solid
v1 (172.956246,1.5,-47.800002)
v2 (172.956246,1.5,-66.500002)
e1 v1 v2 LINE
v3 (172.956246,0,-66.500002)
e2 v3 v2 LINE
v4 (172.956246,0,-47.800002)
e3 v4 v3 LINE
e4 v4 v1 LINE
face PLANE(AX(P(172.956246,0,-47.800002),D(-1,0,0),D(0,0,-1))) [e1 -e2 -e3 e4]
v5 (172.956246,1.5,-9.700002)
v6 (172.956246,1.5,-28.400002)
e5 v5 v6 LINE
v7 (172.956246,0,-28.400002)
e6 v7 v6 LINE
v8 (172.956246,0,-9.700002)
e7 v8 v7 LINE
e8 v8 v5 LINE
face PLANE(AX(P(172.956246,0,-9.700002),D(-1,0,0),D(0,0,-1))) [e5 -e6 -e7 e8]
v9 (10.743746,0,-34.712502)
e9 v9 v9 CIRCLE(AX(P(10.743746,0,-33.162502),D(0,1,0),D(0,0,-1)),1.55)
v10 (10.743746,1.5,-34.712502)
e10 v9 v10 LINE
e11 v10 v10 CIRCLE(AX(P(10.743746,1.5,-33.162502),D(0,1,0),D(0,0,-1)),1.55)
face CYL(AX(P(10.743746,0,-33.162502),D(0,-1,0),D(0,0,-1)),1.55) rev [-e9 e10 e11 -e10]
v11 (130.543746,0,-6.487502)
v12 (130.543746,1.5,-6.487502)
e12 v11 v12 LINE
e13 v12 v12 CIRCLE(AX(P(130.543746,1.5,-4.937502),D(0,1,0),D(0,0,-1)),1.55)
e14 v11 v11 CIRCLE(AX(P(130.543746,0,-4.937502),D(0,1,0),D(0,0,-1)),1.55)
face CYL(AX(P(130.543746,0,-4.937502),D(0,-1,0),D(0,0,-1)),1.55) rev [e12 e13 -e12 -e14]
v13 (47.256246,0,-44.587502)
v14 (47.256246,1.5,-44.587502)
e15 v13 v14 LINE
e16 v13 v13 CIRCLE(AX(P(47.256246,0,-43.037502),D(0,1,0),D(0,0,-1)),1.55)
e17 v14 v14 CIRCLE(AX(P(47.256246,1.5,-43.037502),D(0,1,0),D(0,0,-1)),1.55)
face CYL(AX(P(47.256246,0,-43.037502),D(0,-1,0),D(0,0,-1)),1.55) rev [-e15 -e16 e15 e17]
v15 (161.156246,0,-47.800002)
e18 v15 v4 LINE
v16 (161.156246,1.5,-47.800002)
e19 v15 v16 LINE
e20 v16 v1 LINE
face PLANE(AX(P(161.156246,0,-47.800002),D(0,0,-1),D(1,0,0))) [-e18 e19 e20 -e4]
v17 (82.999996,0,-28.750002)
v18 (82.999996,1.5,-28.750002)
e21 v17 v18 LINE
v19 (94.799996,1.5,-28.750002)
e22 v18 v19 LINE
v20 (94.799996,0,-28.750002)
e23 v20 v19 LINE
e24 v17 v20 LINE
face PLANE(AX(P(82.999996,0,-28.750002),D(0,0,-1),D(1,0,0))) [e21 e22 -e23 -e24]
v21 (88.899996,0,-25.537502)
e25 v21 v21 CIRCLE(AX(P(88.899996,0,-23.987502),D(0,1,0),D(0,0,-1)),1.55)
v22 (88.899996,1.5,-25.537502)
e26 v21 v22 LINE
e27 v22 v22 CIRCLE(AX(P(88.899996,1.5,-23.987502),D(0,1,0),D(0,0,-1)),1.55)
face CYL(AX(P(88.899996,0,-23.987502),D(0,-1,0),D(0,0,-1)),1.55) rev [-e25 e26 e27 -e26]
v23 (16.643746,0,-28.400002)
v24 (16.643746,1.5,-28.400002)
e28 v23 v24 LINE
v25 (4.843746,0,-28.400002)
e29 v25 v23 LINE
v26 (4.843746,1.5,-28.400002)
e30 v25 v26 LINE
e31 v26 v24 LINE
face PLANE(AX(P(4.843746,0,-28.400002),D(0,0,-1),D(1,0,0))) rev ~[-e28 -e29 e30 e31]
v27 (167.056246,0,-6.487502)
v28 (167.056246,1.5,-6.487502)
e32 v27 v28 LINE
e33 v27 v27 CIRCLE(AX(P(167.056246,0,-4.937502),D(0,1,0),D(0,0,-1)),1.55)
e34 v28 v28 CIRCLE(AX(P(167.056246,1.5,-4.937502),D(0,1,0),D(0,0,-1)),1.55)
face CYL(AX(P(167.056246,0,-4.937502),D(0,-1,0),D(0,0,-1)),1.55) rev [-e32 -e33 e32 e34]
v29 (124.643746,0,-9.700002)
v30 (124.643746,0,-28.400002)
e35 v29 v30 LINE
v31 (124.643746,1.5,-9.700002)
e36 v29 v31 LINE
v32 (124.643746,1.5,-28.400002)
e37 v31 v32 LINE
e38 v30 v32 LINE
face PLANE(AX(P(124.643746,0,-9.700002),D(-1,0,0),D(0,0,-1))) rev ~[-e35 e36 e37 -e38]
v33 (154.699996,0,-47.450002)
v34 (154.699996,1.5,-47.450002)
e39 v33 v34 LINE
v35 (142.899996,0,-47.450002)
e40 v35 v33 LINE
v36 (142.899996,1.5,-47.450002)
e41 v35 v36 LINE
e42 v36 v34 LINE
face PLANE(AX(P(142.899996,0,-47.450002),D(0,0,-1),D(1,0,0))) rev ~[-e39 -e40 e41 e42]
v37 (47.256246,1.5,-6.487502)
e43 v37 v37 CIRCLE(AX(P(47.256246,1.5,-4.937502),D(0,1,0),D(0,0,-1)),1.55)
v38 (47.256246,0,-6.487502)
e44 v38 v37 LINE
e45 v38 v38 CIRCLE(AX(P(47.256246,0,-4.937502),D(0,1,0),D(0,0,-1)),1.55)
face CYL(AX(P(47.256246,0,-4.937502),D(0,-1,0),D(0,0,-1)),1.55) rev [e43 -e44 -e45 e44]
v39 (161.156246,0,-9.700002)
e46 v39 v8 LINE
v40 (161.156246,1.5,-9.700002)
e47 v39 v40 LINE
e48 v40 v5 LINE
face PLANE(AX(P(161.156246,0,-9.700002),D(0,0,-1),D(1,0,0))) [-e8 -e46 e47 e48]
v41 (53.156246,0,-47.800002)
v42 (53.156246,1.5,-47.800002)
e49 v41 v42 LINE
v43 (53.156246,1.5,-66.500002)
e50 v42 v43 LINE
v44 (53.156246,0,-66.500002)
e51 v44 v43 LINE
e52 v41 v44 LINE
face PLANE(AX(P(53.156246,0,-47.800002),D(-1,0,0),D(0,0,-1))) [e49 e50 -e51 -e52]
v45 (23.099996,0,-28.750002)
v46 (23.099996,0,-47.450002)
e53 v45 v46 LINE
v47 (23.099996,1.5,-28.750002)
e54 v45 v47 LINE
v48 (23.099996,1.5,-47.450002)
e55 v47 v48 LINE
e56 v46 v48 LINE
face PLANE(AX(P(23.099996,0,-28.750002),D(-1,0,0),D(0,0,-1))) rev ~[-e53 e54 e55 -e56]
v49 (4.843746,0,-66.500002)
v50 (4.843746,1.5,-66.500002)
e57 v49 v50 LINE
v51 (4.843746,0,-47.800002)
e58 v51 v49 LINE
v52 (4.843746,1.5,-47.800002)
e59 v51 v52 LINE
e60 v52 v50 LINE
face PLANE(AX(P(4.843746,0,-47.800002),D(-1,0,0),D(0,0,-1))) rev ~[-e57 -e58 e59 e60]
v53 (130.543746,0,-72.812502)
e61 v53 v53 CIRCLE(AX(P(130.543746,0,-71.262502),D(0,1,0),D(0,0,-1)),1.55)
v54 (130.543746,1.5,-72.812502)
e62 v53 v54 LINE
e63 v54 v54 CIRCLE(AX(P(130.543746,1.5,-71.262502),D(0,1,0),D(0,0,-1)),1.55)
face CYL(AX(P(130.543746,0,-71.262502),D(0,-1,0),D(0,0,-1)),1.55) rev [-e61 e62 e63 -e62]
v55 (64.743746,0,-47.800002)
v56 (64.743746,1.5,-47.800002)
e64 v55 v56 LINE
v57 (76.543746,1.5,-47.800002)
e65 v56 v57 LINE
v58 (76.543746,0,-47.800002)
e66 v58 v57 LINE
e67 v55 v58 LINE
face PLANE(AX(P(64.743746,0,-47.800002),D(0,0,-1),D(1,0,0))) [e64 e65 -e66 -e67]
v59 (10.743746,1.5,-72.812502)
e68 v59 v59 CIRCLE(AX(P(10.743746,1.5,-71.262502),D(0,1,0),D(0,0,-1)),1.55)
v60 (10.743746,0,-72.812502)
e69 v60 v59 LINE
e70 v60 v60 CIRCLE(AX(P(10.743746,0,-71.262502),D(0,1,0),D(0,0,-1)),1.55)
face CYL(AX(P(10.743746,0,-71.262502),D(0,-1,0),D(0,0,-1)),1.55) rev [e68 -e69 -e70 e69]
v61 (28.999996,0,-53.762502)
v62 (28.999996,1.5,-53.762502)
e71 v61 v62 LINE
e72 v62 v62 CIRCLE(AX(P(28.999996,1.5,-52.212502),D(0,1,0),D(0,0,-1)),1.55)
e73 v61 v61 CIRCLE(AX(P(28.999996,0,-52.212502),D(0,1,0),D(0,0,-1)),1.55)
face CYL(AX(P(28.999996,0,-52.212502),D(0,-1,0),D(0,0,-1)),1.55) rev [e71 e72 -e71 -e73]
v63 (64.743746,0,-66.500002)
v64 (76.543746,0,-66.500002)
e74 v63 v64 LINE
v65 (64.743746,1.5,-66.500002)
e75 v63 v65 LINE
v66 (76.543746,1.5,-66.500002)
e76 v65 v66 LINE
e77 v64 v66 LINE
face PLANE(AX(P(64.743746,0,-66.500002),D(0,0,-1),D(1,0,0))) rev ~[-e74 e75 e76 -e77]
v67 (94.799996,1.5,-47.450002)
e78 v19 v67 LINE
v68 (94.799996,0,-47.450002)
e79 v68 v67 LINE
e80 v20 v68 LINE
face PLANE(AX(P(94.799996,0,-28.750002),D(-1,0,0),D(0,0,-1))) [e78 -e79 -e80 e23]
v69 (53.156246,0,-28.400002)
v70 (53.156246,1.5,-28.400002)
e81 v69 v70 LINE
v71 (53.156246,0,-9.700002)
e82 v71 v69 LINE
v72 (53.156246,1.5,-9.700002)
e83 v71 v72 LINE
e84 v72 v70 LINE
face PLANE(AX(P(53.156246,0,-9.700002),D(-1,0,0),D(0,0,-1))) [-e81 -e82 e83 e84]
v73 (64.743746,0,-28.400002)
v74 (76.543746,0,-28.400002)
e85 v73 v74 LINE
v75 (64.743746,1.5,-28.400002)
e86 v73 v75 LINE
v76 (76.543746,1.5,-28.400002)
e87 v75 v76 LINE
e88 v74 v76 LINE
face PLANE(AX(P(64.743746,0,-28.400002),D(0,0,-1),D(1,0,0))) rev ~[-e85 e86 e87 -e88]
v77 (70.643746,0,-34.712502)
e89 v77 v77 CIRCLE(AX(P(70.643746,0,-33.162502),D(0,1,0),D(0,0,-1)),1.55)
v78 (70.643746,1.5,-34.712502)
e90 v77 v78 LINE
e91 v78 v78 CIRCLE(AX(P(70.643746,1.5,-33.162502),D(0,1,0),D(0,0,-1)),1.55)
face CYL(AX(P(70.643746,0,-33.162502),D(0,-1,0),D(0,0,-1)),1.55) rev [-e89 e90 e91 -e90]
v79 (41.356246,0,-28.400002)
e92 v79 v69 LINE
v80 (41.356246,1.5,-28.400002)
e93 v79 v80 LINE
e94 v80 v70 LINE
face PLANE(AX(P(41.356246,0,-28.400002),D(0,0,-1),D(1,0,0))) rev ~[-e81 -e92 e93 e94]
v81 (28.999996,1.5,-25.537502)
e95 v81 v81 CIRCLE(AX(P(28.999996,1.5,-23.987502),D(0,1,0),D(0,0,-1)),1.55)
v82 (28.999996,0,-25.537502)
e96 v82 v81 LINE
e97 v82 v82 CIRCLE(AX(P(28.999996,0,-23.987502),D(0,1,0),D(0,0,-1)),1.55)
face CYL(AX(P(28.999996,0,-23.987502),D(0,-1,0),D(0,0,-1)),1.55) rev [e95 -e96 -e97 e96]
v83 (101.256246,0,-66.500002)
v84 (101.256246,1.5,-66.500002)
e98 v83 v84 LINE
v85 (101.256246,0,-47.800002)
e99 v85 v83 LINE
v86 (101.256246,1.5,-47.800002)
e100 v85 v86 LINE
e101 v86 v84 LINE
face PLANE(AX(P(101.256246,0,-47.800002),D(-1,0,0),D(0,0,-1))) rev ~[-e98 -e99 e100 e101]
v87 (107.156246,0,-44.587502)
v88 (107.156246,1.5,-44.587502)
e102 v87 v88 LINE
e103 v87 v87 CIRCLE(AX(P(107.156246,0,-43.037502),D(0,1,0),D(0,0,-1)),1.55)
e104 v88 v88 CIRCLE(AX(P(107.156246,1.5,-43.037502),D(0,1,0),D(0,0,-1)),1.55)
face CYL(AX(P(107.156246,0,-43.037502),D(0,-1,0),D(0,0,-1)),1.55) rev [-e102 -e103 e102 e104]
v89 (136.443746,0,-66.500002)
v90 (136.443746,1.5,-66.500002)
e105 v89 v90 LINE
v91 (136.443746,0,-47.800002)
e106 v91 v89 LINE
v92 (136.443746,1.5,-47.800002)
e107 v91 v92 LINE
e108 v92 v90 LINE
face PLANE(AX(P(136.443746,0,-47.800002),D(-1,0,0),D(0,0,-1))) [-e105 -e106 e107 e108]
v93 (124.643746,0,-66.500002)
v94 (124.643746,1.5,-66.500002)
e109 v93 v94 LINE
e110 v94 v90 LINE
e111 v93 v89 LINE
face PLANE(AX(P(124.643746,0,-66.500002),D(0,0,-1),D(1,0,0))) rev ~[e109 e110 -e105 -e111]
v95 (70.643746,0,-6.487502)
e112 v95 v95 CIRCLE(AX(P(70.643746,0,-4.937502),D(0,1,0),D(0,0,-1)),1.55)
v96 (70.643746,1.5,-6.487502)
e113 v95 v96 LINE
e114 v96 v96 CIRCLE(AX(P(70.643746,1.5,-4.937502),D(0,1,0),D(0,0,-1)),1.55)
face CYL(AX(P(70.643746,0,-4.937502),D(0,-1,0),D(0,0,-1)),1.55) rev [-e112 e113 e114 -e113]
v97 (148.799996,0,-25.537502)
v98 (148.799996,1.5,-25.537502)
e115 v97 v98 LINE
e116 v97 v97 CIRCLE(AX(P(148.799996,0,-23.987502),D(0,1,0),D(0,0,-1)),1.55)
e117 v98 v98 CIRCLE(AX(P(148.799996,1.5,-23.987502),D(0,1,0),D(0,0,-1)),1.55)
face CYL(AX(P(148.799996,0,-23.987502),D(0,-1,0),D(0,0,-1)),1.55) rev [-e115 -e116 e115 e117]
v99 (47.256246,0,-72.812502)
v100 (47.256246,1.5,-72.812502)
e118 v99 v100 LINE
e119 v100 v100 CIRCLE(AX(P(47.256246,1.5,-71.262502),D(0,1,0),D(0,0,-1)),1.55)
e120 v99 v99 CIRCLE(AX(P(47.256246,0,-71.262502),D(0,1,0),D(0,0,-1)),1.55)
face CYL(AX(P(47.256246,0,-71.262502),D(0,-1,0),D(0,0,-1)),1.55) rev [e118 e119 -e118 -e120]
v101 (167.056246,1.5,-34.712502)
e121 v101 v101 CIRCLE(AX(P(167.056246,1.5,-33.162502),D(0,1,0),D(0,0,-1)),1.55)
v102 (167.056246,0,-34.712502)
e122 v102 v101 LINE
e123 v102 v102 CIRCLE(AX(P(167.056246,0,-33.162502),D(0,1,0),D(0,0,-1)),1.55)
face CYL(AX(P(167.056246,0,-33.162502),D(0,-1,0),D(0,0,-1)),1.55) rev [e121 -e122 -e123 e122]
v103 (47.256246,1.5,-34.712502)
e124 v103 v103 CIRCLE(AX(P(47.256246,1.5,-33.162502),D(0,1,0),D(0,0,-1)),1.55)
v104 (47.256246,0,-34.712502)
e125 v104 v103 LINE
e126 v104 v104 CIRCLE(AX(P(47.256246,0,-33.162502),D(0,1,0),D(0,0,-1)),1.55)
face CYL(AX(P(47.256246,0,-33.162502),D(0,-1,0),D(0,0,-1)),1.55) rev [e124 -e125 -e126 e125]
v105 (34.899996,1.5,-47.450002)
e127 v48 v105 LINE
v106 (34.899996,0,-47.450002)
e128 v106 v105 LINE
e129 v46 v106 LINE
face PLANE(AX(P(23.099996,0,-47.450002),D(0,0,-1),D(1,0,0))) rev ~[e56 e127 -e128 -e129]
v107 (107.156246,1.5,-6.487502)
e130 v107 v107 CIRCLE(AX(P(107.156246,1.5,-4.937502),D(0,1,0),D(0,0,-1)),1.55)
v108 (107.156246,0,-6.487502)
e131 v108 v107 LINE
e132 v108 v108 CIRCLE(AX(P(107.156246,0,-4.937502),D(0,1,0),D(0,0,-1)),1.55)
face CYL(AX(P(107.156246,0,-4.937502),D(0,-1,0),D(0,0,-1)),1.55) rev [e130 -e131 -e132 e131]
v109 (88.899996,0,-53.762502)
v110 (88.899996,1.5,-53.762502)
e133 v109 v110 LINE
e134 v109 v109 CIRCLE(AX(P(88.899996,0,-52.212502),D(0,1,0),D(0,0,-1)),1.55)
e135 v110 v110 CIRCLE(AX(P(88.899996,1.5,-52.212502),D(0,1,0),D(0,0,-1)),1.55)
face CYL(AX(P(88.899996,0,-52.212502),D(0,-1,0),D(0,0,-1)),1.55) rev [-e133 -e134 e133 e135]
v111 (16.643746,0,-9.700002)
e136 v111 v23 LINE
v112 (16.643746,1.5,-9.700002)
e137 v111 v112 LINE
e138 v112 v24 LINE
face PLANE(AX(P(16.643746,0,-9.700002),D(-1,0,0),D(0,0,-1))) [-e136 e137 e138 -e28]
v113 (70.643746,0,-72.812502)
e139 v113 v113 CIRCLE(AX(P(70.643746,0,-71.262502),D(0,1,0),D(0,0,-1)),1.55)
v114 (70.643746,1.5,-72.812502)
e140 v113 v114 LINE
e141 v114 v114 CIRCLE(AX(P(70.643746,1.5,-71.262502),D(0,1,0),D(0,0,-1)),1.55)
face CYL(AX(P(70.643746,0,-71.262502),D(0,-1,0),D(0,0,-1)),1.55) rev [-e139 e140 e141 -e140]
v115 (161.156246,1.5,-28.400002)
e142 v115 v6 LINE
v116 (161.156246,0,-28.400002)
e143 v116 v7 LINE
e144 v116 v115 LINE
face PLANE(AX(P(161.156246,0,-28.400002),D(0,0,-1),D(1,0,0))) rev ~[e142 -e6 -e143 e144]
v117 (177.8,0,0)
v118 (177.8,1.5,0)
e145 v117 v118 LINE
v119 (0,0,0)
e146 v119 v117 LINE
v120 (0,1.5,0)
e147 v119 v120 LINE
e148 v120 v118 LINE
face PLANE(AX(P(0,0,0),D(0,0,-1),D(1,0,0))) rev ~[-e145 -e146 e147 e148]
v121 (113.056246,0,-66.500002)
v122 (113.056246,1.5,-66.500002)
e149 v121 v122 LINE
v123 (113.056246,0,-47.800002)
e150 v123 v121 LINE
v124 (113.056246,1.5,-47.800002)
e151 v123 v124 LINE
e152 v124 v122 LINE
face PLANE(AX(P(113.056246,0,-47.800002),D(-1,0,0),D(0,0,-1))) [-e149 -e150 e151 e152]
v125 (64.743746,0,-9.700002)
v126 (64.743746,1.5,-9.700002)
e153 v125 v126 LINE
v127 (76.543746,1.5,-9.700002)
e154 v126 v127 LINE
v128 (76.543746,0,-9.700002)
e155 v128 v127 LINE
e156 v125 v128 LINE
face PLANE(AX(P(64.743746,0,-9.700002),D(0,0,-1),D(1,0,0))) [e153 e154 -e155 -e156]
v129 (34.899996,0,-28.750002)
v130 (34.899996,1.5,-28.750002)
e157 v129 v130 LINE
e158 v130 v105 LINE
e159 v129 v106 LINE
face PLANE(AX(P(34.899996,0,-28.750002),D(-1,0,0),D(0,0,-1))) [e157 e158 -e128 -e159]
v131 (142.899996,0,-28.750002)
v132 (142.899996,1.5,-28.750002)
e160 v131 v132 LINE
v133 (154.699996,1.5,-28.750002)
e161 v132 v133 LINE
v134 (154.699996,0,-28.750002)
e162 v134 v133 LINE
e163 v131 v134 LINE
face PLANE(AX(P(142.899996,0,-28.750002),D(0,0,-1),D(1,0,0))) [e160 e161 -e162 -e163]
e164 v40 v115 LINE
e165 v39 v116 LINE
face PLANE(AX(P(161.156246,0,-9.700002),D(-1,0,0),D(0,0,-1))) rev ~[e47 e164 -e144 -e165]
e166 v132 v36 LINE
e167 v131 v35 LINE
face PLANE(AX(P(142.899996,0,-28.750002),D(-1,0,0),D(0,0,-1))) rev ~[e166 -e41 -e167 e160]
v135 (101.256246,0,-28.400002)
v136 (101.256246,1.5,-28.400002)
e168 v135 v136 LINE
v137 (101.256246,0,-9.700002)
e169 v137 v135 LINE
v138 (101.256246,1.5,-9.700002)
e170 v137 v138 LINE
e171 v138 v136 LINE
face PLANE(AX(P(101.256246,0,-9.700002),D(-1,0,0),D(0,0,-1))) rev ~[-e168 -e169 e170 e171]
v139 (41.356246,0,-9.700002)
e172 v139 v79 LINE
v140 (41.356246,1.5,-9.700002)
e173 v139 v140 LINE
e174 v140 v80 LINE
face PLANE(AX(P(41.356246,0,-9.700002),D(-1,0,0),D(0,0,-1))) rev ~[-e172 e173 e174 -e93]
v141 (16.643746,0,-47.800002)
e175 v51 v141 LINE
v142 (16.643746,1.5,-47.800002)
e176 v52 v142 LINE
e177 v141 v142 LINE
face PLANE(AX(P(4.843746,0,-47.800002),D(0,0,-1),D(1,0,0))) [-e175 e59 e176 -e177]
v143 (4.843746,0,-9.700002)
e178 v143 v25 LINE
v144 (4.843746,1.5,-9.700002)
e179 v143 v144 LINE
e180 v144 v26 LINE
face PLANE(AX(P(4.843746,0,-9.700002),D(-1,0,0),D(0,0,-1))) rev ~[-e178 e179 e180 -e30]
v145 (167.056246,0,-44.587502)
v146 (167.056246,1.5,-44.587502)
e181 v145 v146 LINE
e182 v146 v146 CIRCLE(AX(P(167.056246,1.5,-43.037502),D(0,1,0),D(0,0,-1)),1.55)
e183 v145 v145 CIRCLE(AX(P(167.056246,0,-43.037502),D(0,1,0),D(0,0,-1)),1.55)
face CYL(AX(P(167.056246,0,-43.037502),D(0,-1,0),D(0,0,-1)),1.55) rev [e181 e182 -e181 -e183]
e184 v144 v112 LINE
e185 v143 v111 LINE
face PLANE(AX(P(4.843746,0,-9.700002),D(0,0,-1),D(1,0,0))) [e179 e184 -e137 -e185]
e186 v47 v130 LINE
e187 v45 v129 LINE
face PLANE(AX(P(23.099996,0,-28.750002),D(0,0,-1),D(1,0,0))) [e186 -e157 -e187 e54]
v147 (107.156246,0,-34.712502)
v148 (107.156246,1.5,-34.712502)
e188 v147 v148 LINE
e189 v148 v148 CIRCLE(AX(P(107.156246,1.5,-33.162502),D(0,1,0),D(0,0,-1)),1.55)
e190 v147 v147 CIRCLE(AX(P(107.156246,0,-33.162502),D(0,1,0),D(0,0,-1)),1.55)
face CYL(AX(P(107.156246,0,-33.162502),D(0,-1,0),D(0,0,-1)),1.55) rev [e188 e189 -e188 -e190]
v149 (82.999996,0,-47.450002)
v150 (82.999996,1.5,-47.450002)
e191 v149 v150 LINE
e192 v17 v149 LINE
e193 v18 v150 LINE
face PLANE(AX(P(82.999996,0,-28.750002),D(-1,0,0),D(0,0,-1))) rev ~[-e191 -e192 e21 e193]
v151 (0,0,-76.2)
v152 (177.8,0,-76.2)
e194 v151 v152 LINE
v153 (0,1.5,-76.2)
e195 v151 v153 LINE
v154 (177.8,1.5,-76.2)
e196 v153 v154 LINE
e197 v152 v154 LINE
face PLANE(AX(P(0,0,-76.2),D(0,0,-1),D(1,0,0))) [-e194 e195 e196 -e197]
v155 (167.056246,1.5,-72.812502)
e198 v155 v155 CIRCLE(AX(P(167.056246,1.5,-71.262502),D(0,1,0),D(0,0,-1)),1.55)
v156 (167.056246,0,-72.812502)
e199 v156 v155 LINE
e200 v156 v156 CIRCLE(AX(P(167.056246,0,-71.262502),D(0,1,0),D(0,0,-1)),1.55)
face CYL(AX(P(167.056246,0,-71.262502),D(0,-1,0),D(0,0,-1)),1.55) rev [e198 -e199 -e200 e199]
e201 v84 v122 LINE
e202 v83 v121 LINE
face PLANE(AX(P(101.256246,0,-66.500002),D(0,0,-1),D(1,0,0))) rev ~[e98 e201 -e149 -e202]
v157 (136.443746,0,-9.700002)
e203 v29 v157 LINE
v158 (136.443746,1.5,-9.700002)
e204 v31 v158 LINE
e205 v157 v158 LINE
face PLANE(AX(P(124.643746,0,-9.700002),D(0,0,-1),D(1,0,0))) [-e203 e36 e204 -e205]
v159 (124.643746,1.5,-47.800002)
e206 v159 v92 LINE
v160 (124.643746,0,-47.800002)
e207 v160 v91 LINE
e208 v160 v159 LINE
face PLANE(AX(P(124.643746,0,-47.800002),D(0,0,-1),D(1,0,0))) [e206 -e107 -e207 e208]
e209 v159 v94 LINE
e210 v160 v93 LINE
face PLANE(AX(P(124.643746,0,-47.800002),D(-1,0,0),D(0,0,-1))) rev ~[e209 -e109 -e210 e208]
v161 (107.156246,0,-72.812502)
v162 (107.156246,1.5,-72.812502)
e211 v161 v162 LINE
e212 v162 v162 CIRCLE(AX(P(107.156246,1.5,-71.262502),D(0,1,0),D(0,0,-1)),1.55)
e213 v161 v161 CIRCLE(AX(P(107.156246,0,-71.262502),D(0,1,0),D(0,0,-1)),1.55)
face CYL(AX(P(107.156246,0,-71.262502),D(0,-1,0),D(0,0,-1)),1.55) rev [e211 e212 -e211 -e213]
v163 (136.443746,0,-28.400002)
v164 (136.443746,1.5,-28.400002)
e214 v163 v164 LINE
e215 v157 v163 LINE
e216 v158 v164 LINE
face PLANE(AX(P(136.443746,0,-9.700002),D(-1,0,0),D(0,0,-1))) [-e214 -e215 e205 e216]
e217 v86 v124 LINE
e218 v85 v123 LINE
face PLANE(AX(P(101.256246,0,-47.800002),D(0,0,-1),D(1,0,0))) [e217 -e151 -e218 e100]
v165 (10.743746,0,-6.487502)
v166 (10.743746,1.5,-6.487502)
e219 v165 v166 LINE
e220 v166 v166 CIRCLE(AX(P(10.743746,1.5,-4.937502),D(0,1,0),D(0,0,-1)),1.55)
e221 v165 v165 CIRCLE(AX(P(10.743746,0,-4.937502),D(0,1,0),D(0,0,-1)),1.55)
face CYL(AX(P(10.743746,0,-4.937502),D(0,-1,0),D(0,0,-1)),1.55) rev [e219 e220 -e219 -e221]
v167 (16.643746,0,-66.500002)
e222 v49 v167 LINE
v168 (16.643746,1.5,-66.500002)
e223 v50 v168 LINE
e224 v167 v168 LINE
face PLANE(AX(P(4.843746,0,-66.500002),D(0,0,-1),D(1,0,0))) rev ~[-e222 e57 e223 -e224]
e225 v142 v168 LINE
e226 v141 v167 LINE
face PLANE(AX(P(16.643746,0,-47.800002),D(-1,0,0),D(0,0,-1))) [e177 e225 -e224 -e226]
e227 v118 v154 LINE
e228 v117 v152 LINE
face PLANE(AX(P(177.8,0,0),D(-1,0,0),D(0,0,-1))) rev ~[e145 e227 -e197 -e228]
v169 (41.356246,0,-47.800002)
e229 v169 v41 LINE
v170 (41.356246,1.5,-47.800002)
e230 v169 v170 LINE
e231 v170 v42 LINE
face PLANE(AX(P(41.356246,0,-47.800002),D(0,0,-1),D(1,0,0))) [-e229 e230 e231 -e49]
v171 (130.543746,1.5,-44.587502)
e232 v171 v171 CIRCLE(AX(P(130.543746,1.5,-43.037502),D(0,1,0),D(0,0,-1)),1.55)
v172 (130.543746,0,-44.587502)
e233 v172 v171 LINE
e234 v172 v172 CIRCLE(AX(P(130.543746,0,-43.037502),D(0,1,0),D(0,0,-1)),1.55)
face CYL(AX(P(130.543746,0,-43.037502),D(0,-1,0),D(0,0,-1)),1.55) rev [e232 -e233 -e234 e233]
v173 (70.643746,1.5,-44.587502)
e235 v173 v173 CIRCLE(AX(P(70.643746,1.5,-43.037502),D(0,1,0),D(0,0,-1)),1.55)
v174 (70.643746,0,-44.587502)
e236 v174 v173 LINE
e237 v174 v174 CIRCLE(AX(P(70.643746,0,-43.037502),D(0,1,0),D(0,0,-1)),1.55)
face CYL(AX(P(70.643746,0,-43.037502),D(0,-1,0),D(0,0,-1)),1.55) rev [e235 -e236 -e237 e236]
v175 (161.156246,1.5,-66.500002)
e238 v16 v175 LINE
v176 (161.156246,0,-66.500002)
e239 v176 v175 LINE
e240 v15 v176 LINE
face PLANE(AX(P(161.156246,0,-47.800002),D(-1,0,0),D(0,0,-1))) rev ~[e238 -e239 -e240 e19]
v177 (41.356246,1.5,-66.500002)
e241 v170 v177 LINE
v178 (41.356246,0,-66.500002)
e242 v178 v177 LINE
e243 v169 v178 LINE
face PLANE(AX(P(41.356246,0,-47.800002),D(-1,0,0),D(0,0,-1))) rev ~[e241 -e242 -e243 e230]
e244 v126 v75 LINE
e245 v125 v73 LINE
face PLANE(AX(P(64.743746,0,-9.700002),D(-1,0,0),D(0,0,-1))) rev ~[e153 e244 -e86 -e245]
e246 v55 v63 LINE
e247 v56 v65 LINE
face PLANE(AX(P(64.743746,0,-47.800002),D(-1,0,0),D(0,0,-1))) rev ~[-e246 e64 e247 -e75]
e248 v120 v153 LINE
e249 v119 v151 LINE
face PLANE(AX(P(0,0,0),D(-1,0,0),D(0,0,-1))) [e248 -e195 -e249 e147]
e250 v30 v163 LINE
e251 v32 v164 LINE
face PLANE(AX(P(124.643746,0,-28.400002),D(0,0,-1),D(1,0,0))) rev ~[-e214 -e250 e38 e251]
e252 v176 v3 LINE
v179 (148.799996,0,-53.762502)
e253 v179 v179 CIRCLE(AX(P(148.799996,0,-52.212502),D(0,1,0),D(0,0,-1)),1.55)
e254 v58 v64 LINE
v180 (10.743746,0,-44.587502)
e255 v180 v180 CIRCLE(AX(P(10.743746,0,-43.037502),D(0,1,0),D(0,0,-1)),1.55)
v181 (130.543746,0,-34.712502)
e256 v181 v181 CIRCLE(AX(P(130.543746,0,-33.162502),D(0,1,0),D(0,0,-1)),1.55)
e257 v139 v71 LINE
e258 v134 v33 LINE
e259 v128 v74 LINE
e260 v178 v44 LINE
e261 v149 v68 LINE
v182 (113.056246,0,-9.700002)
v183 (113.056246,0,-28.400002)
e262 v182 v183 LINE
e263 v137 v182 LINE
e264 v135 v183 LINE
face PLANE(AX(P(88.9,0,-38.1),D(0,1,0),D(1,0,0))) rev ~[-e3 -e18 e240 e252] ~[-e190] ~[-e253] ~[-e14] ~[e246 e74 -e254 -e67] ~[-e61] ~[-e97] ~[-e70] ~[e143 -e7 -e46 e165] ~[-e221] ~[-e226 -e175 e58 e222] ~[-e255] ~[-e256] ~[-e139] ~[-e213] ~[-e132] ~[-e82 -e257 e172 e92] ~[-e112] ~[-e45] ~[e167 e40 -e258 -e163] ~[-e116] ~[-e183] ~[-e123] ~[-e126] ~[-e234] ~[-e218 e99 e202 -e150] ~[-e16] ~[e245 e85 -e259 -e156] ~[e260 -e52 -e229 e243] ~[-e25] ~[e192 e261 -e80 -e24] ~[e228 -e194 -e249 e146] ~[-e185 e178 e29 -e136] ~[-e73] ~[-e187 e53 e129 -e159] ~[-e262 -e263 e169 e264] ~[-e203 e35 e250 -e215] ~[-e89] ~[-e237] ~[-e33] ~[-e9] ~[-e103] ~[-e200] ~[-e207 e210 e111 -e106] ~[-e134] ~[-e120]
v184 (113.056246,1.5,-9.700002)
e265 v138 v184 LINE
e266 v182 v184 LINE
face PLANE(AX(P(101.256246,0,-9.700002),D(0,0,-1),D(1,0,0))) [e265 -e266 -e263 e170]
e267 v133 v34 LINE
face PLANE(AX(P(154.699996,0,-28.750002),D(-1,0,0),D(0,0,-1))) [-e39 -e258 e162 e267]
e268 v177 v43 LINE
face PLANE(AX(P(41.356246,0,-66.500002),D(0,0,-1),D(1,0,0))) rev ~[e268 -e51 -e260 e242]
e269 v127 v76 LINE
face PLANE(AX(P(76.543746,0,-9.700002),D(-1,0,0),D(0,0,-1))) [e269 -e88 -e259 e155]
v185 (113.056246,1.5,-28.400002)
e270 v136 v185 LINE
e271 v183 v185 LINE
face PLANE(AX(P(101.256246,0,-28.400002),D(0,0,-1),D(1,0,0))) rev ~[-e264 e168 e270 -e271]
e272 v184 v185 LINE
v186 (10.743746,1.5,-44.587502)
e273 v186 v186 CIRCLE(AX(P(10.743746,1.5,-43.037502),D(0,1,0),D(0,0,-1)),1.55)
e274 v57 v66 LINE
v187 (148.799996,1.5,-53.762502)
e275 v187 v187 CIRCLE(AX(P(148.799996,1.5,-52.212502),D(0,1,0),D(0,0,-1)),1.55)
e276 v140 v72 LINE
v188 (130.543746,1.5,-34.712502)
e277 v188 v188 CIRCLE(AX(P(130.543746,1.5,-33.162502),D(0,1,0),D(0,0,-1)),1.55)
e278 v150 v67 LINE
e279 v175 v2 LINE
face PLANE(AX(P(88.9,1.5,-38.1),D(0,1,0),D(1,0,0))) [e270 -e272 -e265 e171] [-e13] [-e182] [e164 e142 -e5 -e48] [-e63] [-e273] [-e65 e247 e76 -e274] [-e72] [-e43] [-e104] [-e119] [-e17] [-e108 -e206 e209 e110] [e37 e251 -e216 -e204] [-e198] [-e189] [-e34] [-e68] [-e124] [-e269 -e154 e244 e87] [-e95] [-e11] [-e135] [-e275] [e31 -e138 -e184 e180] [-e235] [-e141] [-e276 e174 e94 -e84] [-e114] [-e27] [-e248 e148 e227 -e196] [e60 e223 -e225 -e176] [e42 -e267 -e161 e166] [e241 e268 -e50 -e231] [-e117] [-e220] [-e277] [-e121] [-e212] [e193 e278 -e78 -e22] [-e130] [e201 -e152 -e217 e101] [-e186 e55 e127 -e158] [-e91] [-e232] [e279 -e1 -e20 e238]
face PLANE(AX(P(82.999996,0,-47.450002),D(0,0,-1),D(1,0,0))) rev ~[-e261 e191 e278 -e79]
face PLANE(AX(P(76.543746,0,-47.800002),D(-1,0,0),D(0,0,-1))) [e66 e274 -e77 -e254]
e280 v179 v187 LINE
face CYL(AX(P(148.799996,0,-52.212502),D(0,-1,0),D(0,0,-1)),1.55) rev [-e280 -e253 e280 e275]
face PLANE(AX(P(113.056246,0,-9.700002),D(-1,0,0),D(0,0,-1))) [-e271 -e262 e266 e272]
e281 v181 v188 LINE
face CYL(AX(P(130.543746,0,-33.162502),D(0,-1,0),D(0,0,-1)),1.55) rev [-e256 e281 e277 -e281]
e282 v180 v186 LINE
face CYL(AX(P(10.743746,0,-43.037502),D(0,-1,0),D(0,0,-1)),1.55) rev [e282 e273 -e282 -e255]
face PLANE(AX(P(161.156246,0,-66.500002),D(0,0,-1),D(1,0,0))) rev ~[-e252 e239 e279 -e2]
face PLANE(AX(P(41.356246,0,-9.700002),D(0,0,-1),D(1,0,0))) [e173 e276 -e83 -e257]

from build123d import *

# Parameters (mm, degrees)
SKETCH4_W                   = 177.8
SKETCH4_H                   = 76.2
BOSS_EXTRUDE3_DEPTH         = 1.5
SOLENOID_PANEL_CUTOUTS_R    = 1.55
SOLENOID_PANEL_CUTOUTS_W    = 11.8
SOLENOID_PANEL_CUTOUTS_H    = 18.7
SOLENOID_PANEL_CUTOUT_DEPTH = 1.5


with BuildPart() as part:
    # Sketch4 → Boss-Extrude3 (new body)
    with BuildSketch(Plane(origin=(0, 0, 0), x_dir=(1, 0, 0), z_dir=(0, 1, 0))):
        with Locations((88.9, 38.1)):
            Rectangle(SKETCH4_W, SKETCH4_H)
    extrude(amount=BOSS_EXTRUDE3_DEPTH)

    # Solenoid Panel Cutouts → Solenoid Panel Cutout (cut)
    with BuildSketch(Plane(origin=(0, 0, 0), x_dir=(1, 0, 0), z_dir=(0, 1, 0))):
        with Locations(Location((10.743745769, 33.162501773, 0), (0, 0, 90))):
            Circle(SOLENOID_PANEL_CUTOUTS_R)
        with Locations(Location((10.743745769, 4.937501773, 0), (0, 0, 90))):
            Circle(SOLENOID_PANEL_CUTOUTS_R)
        with Locations(Location((10.743745769, 71.262501773, 0), (0, 0, 90))):
            Circle(SOLENOID_PANEL_CUTOUTS_R)
        with Locations(Location((10.743745769, 43.037501773, 0), (0, 0, 90))):
            Circle(SOLENOID_PANEL_CUTOUTS_R)
        with Locations(Location((47.256245769, 71.262501773, 0), (0, 0, 90))):
            Circle(SOLENOID_PANEL_CUTOUTS_R)
        with Locations(Location((47.256245769, 43.037501773, 0), (0, 0, 90))):
            Circle(SOLENOID_PANEL_CUTOUTS_R)
        with Locations(Location((70.643745769, 71.262501773, 0), (0, 0, 90))):
            Circle(SOLENOID_PANEL_CUTOUTS_R)
        with Locations(Location((70.643745769, 43.037501773, 0), (0, 0, 90))):
            Circle(SOLENOID_PANEL_CUTOUTS_R)
        with Locations(Location((107.156245769, 71.262501773, 0), (0, 0, 90))):
            Circle(SOLENOID_PANEL_CUTOUTS_R)
        with Locations(Location((107.156245769, 43.037501773, 0), (0, 0, 90))):
            Circle(SOLENOID_PANEL_CUTOUTS_R)
        with Locations(Location((130.543745769, 71.262501773, 0), (0, 0, 90))):
            Circle(SOLENOID_PANEL_CUTOUTS_R)
        with Locations(Location((130.543745769, 43.037501773, 0), (0, 0, 90))):
            Circle(SOLENOID_PANEL_CUTOUTS_R)
        with Locations(Location((167.056245769, 71.262501773, 0), (0, 0, 90))):
            Circle(SOLENOID_PANEL_CUTOUTS_R)
        with Locations(Location((167.056245769, 43.037501773, 0), (0, 0, 90))):
            Circle(SOLENOID_PANEL_CUTOUTS_R)
        with Locations(Location((28.999995769, 52.212501773, 0), (0, 0, 90))):
            Circle(SOLENOID_PANEL_CUTOUTS_R)
        with Locations(Location((28.999995769, 23.987501773, 0), (0, 0, 90))):
            Circle(SOLENOID_PANEL_CUTOUTS_R)
        with Locations(Location((47.256245769, 33.162501773, 0), (0, 0, 90))):
            Circle(SOLENOID_PANEL_CUTOUTS_R)
        with Locations(Location((47.256245769, 4.937501773, 0), (0, 0, 90))):
            Circle(SOLENOID_PANEL_CUTOUTS_R)
        with Locations(Location((70.643745769, 33.162501773, 0), (0, 0, 90))):
            Circle(SOLENOID_PANEL_CUTOUTS_R)
        with Locations(Location((70.643745769, 4.937501773, 0), (0, 0, 90))):
            Circle(SOLENOID_PANEL_CUTOUTS_R)
        with Locations(Location((88.899995769, 52.212501773, 0), (0, 0, 90))):
            Circle(SOLENOID_PANEL_CUTOUTS_R)
        with Locations(Location((88.899995769, 23.987501773, 0), (0, 0, 90))):
            Circle(SOLENOID_PANEL_CUTOUTS_R)
        with Locations(Location((107.156245769, 33.162501773, 0), (0, 0, 90))):
            Circle(SOLENOID_PANEL_CUTOUTS_R)
        with Locations(Location((107.156245769, 4.937501773, 0), (0, 0, 90))):
            Circle(SOLENOID_PANEL_CUTOUTS_R)
        with Locations(Location((130.543745769, 33.162501773, 0), (0, 0, 90))):
            Circle(SOLENOID_PANEL_CUTOUTS_R)
        with Locations(Location((130.543745769, 4.937501773, 0), (0, 0, 90))):
            Circle(SOLENOID_PANEL_CUTOUTS_R)
        with Locations(Location((148.799995769, 52.212501773, 0), (0, 0, 90))):
            Circle(SOLENOID_PANEL_CUTOUTS_R)
        with Locations(Location((148.799995769, 23.987501773, 0), (0, 0, 90))):
            Circle(SOLENOID_PANEL_CUTOUTS_R)
        with Locations(Location((167.056245769, 33.162501773, 0), (0, 0, 90))):
            Circle(SOLENOID_PANEL_CUTOUTS_R)
        with Locations(Location((167.056245769, 4.937501773, 0), (0, 0, 90))):
            Circle(SOLENOID_PANEL_CUTOUTS_R)
        with Locations((10.743745769, 19.050001773)):
            Rectangle(SOLENOID_PANEL_CUTOUTS_W, SOLENOID_PANEL_CUTOUTS_H)
        with Locations((10.743745769, 57.150001773)):
            Rectangle(SOLENOID_PANEL_CUTOUTS_W, SOLENOID_PANEL_CUTOUTS_H)
        with Locations((47.256245769, 57.150001773)):
            Rectangle(SOLENOID_PANEL_CUTOUTS_W, SOLENOID_PANEL_CUTOUTS_H)
        with Locations((70.643745769, 57.150001773)):
            Rectangle(SOLENOID_PANEL_CUTOUTS_W, SOLENOID_PANEL_CUTOUTS_H)
        with Locations((107.156245769, 57.150001773)):
            Rectangle(SOLENOID_PANEL_CUTOUTS_W, SOLENOID_PANEL_CUTOUTS_H)
        with Locations((130.543745769, 57.150001773)):
            Rectangle(SOLENOID_PANEL_CUTOUTS_W, SOLENOID_PANEL_CUTOUTS_H)
        with Locations((167.056245769, 57.150001773)):
            Rectangle(SOLENOID_PANEL_CUTOUTS_W, SOLENOID_PANEL_CUTOUTS_H)
        with Locations((28.999995769, 38.100001773)):
            Rectangle(SOLENOID_PANEL_CUTOUTS_W, SOLENOID_PANEL_CUTOUTS_H)
        with Locations((47.256245769, 19.050001773)):
            Rectangle(SOLENOID_PANEL_CUTOUTS_W, SOLENOID_PANEL_CUTOUTS_H)
        with Locations((70.643745769, 19.050001773)):
            Rectangle(SOLENOID_PANEL_CUTOUTS_W, SOLENOID_PANEL_CUTOUTS_H)
        with Locations((88.899995769, 38.100001773)):
            Rectangle(SOLENOID_PANEL_CUTOUTS_W, SOLENOID_PANEL_CUTOUTS_H)
        with Locations((107.156245769, 19.050001773)):
            Rectangle(SOLENOID_PANEL_CUTOUTS_W, SOLENOID_PANEL_CUTOUTS_H)
        with Locations((130.543745769, 19.050001773)):
            Rectangle(SOLENOID_PANEL_CUTOUTS_W, SOLENOID_PANEL_CUTOUTS_H)
        with Locations((148.799995769, 38.100001773)):
            Rectangle(SOLENOID_PANEL_CUTOUTS_W, SOLENOID_PANEL_CUTOUTS_H)
        with Locations((167.056245769, 19.050001773)):
            Rectangle(SOLENOID_PANEL_CUTOUTS_W, SOLENOID_PANEL_CUTOUTS_H)
    extrude(amount=SOLENOID_PANEL_CUTOUT_DEPTH, mode=Mode.SUBTRACT)


solid = part.part
